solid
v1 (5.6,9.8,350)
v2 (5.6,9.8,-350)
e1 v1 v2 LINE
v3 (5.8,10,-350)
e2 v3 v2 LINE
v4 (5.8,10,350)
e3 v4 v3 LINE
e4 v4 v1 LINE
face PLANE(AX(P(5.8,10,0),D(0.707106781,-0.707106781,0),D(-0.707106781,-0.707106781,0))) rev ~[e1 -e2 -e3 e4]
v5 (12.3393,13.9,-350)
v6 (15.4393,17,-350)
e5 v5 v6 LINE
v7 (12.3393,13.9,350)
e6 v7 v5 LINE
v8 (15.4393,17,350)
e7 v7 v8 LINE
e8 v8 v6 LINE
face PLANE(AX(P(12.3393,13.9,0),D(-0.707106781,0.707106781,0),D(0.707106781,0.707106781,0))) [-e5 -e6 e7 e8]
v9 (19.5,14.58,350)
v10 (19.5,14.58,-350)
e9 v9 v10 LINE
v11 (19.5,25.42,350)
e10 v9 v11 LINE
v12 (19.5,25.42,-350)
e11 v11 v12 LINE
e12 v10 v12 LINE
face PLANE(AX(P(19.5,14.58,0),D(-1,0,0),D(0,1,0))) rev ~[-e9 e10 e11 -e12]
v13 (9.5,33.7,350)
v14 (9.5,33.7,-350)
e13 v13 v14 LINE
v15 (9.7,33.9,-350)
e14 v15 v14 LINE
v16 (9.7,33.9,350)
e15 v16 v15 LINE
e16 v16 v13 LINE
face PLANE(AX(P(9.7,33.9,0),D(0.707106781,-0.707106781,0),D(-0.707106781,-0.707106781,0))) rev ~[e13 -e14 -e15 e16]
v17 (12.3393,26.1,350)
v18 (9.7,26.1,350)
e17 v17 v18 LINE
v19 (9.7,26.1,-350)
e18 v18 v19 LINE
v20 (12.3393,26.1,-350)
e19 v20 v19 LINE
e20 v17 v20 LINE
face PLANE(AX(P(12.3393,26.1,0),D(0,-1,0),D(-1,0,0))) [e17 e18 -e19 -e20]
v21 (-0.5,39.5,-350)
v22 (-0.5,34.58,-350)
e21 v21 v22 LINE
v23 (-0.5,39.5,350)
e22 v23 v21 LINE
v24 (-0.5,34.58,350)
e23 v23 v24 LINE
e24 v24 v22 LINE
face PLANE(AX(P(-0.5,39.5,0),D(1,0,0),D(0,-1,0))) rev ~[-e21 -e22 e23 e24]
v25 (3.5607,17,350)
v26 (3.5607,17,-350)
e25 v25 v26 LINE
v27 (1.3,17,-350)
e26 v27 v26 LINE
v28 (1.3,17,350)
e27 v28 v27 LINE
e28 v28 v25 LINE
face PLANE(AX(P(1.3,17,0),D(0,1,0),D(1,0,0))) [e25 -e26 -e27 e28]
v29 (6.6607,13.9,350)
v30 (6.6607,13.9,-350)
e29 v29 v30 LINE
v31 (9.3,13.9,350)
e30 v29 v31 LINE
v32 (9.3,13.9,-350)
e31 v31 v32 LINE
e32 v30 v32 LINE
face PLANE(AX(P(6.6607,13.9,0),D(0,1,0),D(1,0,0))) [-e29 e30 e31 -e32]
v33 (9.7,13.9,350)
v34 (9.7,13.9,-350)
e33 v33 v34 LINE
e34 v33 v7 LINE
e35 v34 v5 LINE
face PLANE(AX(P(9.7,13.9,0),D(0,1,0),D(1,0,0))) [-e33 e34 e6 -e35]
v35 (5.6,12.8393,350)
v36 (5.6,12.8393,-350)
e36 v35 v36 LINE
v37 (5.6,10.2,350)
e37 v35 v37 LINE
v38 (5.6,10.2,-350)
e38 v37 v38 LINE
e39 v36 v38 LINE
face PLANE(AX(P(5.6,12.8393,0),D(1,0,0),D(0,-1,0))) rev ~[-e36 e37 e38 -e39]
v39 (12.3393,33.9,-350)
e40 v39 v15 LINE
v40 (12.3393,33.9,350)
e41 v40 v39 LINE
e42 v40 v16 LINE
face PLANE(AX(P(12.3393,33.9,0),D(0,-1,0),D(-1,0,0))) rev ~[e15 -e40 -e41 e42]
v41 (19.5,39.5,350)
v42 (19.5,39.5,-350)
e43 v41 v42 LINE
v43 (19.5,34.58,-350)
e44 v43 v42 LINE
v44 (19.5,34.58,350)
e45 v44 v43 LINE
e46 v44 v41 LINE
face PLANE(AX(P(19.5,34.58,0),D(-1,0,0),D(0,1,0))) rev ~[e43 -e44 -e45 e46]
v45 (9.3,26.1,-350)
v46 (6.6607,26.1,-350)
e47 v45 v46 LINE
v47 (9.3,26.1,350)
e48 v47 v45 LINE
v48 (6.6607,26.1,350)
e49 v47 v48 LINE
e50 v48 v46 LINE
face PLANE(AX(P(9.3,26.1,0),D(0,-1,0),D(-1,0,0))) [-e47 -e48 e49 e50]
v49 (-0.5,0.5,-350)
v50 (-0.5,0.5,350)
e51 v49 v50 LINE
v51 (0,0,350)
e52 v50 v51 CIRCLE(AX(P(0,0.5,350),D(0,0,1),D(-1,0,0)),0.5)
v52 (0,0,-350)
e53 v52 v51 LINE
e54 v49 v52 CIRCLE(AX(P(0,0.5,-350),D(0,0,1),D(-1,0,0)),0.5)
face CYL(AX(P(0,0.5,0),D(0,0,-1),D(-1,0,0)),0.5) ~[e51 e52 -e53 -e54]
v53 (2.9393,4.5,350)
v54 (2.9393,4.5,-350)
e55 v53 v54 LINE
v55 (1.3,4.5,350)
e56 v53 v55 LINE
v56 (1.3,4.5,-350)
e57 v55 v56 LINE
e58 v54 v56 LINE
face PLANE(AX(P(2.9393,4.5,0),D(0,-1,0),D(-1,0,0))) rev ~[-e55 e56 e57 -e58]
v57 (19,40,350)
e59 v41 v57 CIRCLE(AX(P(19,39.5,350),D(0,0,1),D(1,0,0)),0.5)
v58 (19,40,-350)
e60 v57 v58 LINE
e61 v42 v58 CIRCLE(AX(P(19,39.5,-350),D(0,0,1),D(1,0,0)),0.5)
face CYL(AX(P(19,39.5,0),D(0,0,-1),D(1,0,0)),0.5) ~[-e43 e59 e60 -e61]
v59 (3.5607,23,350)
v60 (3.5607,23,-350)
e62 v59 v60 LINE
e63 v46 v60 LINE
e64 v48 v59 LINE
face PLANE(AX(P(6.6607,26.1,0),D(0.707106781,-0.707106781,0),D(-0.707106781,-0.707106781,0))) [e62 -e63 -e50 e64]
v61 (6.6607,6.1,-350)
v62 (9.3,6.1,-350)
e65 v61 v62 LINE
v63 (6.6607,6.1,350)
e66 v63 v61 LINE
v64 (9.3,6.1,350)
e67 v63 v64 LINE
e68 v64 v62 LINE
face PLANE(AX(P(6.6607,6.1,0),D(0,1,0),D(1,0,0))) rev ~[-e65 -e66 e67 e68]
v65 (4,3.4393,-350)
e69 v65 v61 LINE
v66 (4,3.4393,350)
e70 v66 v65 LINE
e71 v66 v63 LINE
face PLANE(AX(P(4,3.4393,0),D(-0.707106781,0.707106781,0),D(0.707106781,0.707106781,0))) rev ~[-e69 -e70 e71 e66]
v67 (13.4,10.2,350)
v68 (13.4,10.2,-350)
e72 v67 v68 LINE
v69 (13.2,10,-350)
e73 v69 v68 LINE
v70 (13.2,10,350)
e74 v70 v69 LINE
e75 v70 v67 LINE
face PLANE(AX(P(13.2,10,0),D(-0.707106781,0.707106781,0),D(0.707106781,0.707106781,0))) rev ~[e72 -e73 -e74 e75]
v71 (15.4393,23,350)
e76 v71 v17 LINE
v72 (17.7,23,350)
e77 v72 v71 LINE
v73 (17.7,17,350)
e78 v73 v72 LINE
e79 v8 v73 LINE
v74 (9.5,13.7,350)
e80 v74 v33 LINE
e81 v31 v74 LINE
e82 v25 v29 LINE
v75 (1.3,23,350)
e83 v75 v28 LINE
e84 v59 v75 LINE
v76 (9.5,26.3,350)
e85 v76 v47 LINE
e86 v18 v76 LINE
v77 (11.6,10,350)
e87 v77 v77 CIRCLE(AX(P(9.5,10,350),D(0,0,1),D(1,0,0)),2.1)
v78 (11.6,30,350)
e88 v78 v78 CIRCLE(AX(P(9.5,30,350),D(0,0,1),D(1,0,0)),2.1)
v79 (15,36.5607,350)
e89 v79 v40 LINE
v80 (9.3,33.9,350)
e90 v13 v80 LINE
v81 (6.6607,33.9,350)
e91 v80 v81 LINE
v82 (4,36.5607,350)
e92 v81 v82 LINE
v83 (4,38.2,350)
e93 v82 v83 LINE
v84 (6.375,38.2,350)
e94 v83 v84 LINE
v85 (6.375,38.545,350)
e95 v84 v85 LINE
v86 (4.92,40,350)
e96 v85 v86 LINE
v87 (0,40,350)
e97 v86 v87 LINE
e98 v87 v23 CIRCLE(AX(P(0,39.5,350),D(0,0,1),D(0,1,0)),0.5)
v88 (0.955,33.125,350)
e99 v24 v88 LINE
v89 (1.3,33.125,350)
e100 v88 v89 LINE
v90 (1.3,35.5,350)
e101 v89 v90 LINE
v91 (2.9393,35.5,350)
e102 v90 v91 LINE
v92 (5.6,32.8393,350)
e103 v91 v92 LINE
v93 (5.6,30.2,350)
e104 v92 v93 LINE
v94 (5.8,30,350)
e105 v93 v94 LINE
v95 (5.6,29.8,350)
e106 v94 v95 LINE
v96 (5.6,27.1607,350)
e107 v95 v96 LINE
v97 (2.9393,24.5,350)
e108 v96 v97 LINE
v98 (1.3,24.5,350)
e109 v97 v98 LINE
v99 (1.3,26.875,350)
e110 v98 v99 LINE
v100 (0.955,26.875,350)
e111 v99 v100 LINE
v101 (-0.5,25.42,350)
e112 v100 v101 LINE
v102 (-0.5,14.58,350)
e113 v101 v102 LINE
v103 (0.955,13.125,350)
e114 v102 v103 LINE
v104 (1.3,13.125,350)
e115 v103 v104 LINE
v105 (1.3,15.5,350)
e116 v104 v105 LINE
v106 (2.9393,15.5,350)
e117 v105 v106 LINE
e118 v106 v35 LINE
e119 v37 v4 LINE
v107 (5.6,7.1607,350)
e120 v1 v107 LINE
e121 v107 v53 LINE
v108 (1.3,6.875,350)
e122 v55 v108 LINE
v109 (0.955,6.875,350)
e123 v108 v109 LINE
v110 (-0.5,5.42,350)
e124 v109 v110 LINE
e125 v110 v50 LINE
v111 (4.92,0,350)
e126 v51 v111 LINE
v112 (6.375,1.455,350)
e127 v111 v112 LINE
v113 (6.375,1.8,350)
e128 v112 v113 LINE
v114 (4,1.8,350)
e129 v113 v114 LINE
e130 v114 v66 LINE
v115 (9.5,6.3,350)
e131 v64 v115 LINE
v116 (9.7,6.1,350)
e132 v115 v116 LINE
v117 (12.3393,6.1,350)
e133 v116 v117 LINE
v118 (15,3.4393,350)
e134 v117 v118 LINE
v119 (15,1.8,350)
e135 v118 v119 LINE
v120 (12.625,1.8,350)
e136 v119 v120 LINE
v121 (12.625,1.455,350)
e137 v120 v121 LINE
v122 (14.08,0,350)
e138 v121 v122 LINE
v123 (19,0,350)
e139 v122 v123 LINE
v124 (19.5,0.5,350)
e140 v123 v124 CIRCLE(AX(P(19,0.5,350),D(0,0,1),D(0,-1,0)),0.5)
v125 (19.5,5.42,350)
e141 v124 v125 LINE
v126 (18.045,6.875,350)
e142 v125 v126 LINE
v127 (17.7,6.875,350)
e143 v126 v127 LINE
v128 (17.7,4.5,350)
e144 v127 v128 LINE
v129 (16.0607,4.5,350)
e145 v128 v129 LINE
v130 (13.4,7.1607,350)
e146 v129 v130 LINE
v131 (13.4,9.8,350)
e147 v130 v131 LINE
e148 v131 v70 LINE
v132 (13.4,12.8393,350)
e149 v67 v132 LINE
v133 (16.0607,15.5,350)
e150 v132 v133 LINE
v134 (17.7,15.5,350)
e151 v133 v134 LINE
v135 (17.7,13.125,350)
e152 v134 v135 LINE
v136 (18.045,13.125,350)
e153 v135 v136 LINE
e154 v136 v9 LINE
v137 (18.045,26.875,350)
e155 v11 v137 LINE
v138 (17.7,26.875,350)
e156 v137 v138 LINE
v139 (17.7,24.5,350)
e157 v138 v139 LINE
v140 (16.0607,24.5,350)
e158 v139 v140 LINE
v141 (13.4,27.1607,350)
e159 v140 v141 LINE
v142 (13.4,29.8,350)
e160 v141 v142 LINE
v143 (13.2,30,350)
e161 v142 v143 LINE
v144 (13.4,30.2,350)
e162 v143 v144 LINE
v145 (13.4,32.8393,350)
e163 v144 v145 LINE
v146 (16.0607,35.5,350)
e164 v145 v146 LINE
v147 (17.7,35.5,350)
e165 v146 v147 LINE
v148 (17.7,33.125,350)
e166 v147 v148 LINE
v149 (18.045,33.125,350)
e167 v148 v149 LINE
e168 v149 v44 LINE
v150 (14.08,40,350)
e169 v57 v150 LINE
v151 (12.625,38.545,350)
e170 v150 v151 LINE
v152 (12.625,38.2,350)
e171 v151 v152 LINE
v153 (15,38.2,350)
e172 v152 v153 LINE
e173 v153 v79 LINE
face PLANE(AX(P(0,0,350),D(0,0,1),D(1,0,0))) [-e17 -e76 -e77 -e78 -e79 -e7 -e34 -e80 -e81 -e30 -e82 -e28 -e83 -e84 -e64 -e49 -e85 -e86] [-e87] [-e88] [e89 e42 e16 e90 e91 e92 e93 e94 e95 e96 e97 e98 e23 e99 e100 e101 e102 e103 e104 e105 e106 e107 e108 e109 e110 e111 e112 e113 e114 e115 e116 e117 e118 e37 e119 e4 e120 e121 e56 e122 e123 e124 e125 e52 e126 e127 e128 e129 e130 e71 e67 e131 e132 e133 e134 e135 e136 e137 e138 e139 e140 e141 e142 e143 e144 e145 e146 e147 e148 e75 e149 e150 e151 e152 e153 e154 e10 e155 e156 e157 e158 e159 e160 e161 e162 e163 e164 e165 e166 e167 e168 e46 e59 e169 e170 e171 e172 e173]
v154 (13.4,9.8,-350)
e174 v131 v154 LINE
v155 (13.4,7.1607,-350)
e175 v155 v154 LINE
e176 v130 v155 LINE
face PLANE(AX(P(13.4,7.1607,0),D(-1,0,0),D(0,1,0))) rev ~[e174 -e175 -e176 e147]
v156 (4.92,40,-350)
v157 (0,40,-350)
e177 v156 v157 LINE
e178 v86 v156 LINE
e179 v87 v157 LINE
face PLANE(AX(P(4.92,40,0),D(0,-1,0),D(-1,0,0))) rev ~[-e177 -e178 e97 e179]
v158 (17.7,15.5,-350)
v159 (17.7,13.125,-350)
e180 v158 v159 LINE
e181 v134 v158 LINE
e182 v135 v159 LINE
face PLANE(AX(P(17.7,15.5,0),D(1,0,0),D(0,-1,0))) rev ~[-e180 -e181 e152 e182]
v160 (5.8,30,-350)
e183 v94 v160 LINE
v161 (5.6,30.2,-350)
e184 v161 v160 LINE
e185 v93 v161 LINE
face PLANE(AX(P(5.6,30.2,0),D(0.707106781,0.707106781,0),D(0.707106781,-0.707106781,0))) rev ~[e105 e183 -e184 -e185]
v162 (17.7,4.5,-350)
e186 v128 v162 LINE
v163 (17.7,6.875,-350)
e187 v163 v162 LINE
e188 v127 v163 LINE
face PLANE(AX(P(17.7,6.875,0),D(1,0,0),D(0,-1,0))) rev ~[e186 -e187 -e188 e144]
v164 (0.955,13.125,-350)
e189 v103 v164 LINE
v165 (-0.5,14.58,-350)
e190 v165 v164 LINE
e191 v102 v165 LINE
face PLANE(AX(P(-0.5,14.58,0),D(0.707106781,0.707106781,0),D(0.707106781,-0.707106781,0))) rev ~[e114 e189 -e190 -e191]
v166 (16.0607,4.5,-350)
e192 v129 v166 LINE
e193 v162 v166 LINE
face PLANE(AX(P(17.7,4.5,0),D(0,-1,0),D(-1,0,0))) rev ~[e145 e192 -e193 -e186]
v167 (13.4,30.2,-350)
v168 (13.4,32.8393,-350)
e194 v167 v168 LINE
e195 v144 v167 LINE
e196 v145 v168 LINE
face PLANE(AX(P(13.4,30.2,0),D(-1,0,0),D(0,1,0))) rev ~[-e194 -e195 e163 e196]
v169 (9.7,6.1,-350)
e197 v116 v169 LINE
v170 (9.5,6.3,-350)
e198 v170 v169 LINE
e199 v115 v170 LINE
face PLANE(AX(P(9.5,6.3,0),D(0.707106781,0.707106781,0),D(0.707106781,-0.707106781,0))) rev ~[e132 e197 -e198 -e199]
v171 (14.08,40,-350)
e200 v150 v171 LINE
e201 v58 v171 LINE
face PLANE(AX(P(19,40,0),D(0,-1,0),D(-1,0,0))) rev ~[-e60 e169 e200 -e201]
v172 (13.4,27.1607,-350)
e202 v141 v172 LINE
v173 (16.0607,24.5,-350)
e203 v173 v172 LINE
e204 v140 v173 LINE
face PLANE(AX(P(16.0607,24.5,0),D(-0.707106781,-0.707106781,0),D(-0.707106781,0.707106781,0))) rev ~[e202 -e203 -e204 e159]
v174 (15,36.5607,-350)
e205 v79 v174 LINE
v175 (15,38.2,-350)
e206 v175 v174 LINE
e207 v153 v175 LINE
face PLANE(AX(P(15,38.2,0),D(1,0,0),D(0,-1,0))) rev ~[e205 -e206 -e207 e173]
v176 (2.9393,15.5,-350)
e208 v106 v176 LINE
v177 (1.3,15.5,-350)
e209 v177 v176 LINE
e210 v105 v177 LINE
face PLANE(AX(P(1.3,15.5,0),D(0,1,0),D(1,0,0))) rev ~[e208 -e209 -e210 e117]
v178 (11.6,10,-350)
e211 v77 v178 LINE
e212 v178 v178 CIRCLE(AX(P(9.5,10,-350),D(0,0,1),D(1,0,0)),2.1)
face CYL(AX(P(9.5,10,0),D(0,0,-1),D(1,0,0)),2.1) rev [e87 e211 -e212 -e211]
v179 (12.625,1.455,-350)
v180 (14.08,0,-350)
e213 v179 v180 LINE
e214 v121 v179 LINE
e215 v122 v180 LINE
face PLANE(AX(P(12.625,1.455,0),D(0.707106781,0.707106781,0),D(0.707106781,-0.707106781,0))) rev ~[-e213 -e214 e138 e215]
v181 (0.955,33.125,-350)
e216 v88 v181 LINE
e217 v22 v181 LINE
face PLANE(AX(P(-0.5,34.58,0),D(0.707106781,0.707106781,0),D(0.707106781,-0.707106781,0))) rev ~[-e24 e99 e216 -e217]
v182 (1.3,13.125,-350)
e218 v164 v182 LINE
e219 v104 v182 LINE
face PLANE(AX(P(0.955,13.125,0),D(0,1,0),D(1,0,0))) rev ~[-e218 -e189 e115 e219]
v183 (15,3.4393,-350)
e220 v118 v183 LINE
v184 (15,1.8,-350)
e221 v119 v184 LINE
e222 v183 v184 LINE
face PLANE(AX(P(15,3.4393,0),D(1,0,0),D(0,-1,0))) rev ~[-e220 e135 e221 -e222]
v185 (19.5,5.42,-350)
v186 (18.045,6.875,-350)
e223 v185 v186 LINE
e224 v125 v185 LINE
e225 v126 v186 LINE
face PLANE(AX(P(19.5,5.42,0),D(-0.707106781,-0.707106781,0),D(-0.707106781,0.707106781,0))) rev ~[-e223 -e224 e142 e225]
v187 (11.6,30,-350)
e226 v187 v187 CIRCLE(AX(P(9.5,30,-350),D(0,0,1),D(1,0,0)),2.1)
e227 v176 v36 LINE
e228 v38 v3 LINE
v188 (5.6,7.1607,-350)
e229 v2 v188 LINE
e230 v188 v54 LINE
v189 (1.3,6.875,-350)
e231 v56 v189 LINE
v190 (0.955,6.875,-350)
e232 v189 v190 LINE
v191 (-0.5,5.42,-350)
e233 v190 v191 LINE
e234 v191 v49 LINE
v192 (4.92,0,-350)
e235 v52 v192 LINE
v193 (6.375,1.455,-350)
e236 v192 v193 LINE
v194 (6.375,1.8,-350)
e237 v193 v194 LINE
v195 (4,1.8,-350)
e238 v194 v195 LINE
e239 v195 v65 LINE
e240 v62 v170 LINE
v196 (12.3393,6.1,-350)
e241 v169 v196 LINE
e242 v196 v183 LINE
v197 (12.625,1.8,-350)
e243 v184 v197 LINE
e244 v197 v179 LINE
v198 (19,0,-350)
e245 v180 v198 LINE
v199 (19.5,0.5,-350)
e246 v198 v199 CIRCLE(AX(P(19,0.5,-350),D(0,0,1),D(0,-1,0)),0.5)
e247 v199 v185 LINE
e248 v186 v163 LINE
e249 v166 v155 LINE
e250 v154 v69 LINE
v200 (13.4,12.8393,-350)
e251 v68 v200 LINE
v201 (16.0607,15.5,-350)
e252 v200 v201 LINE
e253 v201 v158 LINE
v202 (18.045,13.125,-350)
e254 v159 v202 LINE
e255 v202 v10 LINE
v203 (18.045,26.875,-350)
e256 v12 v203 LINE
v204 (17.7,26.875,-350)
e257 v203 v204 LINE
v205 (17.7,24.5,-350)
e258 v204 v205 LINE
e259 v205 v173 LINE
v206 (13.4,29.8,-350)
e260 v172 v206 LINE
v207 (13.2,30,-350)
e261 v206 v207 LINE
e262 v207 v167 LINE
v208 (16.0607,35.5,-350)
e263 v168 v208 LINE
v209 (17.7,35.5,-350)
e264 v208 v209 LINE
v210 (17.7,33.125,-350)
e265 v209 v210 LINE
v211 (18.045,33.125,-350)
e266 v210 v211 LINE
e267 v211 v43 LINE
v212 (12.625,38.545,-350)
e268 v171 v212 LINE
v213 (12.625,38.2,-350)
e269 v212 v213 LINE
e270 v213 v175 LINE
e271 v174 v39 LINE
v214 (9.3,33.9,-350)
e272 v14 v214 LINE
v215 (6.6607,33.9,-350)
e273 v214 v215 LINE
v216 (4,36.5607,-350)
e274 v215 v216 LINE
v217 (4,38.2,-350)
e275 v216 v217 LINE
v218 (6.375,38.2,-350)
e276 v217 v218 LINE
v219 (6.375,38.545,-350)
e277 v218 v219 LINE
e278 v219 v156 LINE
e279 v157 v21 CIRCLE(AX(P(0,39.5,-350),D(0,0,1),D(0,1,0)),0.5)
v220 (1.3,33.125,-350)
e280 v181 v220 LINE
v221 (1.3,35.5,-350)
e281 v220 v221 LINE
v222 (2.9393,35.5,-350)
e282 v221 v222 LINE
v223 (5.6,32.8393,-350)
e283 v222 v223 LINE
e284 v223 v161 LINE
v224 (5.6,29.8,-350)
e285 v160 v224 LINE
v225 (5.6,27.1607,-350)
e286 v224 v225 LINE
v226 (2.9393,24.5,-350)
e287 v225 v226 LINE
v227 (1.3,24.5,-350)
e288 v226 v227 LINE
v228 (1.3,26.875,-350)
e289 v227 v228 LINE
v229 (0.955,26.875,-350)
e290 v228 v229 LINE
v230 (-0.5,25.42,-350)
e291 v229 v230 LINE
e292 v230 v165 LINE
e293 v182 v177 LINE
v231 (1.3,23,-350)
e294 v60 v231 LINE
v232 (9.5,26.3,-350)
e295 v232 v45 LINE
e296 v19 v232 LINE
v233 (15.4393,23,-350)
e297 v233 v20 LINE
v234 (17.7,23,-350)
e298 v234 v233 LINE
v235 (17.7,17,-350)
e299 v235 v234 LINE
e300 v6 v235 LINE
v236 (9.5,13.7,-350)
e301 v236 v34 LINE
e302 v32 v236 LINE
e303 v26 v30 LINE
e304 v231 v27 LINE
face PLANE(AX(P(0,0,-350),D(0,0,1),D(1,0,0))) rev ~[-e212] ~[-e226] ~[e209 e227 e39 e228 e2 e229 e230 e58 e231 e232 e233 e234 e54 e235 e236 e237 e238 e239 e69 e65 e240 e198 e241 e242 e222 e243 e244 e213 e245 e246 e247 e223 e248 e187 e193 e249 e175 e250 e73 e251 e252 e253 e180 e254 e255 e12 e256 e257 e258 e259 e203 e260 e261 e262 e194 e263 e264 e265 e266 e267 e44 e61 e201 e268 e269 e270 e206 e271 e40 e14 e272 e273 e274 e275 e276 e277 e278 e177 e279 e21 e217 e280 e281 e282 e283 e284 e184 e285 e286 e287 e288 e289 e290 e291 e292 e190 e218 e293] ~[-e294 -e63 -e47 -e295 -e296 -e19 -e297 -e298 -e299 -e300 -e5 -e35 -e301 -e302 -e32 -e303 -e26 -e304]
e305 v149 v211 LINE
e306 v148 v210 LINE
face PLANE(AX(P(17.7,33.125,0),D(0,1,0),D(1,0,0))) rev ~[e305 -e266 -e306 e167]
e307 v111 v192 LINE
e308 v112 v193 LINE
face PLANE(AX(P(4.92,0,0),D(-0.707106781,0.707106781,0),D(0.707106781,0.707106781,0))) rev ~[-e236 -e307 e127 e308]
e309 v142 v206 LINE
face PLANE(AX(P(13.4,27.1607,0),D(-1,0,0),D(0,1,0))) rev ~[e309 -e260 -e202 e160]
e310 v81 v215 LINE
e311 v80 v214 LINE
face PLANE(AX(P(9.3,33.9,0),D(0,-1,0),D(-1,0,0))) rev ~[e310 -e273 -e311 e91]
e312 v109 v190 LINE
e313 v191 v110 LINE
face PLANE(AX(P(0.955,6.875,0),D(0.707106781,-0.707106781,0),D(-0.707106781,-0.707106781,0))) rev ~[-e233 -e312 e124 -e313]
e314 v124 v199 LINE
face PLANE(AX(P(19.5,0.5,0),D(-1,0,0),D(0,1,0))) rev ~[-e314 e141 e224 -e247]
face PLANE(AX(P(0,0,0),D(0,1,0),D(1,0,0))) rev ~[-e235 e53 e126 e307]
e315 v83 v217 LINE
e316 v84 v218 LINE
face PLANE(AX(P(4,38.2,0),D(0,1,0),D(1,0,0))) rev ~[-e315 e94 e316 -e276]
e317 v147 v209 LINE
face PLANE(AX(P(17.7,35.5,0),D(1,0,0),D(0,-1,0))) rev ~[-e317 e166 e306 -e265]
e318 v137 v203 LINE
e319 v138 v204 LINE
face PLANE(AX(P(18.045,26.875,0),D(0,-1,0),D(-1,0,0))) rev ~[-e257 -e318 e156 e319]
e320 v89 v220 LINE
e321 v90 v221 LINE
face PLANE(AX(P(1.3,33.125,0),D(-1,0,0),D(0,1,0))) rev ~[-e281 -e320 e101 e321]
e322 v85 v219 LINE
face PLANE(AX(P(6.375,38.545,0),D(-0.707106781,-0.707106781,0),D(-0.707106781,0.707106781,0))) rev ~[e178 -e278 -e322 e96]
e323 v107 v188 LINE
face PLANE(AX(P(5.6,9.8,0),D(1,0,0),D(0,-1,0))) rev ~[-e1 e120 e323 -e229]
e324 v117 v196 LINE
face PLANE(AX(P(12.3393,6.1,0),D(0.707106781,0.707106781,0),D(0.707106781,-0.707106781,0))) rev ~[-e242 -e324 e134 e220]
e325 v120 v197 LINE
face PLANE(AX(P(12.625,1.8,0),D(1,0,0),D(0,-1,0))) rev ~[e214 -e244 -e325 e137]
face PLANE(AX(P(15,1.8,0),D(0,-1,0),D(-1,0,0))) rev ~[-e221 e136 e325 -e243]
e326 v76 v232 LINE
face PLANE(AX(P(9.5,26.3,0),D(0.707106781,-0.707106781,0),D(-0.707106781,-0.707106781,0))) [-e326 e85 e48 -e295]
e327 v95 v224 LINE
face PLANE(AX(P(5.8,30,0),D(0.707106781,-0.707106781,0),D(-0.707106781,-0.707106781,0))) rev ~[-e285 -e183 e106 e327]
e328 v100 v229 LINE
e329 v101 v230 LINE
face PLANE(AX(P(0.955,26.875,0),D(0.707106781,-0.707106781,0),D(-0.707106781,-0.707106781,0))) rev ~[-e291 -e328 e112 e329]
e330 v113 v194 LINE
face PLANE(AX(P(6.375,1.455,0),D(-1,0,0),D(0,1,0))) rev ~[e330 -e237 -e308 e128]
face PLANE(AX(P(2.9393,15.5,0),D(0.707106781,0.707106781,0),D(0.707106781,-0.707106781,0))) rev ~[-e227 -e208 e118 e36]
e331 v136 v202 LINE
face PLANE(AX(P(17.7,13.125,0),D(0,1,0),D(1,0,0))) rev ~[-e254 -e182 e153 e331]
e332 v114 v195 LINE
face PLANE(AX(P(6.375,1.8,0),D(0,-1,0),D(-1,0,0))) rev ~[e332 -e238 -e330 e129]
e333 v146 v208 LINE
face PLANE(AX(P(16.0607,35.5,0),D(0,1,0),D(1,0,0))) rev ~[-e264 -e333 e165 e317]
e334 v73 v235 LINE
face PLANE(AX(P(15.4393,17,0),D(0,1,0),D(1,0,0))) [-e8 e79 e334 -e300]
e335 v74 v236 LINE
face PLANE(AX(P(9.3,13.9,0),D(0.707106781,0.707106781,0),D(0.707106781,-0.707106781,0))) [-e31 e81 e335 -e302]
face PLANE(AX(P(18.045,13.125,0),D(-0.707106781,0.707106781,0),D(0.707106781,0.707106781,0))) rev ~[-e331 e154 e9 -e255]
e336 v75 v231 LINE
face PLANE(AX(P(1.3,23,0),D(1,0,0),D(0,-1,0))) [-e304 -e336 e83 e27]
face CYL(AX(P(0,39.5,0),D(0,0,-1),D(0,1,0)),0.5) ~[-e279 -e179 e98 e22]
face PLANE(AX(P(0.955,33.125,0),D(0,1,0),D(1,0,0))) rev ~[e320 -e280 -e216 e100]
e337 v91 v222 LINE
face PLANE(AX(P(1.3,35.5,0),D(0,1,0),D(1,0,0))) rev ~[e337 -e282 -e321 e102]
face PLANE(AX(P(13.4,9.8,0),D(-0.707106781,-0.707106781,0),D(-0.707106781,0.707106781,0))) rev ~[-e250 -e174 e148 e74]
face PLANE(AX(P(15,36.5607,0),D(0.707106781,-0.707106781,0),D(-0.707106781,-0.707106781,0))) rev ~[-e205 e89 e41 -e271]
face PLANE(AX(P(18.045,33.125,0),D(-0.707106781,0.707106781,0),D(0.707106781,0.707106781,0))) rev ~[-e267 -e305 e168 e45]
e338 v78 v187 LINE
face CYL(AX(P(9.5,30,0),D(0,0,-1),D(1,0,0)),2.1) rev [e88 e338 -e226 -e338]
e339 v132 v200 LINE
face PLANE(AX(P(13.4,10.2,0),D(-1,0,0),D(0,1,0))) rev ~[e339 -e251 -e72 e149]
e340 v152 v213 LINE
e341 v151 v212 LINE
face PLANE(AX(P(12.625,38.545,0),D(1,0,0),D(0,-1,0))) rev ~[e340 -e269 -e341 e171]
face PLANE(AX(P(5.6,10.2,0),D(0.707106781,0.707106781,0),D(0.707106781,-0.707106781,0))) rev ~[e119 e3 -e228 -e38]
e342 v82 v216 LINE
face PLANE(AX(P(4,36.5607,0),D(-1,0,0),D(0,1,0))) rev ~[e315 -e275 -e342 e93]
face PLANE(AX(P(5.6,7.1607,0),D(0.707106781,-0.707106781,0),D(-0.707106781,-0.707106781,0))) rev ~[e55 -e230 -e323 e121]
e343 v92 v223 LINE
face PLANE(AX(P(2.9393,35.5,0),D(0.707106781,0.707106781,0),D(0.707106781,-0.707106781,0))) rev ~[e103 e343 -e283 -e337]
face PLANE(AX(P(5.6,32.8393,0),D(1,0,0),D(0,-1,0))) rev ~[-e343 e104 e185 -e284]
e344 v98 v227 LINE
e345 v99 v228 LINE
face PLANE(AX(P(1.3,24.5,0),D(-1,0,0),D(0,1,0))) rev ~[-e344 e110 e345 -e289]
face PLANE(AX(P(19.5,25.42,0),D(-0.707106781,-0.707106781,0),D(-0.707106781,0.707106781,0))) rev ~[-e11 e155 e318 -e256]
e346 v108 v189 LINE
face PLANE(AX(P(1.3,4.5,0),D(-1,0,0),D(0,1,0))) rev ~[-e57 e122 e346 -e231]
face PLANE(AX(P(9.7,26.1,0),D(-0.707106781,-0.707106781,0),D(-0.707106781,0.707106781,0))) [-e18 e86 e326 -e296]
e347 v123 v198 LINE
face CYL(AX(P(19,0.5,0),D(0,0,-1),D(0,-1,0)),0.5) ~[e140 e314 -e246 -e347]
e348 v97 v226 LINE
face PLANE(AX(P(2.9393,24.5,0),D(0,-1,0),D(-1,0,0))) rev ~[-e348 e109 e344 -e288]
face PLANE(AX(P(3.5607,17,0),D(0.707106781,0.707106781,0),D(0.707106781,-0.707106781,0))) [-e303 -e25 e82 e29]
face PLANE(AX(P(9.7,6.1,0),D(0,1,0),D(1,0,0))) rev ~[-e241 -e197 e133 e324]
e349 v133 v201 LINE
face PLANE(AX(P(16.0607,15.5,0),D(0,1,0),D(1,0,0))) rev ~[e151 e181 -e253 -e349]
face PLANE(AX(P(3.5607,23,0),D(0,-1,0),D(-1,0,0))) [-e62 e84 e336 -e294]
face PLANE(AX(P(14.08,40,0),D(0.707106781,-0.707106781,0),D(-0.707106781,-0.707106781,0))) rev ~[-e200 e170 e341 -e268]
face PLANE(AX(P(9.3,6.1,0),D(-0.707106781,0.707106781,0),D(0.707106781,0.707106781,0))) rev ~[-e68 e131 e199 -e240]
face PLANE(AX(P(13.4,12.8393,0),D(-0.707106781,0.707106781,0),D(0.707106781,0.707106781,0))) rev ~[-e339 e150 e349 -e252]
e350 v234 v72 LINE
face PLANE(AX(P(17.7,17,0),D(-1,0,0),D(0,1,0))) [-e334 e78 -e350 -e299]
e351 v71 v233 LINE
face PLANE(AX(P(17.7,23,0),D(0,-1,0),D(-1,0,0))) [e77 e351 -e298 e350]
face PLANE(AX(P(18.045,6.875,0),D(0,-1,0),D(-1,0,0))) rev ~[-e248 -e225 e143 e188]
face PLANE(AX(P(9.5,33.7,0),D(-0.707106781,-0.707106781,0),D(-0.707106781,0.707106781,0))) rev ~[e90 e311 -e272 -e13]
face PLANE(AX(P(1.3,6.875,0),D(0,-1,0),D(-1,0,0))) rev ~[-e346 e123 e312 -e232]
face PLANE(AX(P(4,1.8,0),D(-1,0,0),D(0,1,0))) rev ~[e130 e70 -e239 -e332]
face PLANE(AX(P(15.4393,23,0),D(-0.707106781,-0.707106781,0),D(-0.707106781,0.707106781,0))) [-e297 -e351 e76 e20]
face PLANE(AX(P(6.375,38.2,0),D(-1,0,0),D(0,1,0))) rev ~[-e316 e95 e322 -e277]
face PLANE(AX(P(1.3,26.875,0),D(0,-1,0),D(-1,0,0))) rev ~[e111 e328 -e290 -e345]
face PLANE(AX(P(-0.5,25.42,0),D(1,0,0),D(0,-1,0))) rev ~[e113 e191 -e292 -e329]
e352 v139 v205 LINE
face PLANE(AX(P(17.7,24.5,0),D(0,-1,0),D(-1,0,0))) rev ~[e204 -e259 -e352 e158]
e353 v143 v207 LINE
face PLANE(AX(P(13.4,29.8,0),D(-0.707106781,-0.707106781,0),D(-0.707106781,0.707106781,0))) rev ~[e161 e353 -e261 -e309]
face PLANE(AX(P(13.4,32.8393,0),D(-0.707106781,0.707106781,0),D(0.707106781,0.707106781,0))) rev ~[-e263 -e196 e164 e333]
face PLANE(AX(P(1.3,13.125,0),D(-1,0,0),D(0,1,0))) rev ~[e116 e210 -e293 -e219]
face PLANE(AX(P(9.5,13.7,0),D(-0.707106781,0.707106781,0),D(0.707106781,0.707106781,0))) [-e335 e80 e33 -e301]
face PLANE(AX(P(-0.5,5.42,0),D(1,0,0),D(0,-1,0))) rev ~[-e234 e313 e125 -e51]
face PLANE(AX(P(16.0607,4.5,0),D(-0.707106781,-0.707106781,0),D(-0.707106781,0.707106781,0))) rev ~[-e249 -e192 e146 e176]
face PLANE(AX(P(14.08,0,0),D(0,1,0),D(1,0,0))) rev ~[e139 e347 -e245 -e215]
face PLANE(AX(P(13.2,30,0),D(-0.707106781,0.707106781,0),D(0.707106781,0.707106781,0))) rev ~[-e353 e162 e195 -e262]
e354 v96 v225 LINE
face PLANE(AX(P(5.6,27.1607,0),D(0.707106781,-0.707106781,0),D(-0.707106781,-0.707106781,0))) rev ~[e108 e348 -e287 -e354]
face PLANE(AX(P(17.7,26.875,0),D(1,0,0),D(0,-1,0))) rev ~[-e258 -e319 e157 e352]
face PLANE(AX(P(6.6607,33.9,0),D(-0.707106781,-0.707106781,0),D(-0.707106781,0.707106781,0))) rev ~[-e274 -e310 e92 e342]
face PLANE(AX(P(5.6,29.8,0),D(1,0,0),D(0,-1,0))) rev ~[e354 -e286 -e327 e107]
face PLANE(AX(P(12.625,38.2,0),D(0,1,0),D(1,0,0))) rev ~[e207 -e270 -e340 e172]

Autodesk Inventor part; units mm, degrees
ref_plane "YZ Plane" through (0, 0, 0) normal (1, 0, 0) x (0, 1, 0)
ref_plane "XZ Plane" through (0, 0, 0) normal (0, 1, 0) x (-1, 0, 0)
ref_plane "XY Plane" through (0, 0, 0) normal (0, 0, 1) x (1, 0, 0)
sketch "Sketch1" plane through (0, 0, 0) normal (0, 0, 1) x (1, 0, 0)
  line L0 (-0.5, 5.42) -> (-0.5, 0.5)
  arc A0 (-0.5, 0.5) -> (0, 0) centre (0, 0.5) ccw
  line L1 (0, 0) -> (4.92, 0)
  line L2 (4.92, 0) -> (6.375, 1.455)
  line L3 (6.375, 1.455) -> (6.375, 1.8)
  line L4 (6.375, 1.8) -> (4, 1.8)
  line L5 (4, 1.8) -> (4, 3.4393)
  line L6 (4, 3.4393) -> (6.6607, 6.1)
  line L7 (6.6607, 6.1) -> (9.3, 6.1)
  line L8 (9.3, 6.1) -> (9.5, 6.3)
  line L9 (9.5, 6.3) -> (9.7, 6.1)
  line L10 (9.7, 6.1) -> (12.3393, 6.1)
  line L11 (12.3393, 6.1) -> (15, 3.4393)
  line L12 (15, 3.4393) -> (15, 1.8)
  line L13 (15, 1.8) -> (12.625, 1.8)
  line L14 (12.625, 1.8) -> (12.625, 1.455)
  line L15 (12.625, 1.455) -> (14.08, 0)
  line L16 (14.08, 0) -> (19, 0)
  arc A1 (19, 0) -> (19.5, 0.5) centre (19, 0.5) ccw
  line L17 (19.5, 0.5) -> (19.5, 5.42)
  line L18 (19.5, 5.42) -> (18.045, 6.875)
  line L19 (18.045, 6.875) -> (17.7, 6.875)
  line L20 (17.7, 6.875) -> (17.7, 4.5)
  line L21 (17.7, 4.5) -> (16.0607, 4.5)
  line L22 (16.0607, 4.5) -> (13.4, 7.1607)
  line L23 (13.4, 7.1607) -> (13.4, 9.8)
  line L24 (13.4, 9.8) -> (13.2, 10)
  line L25 (13.2, 10) -> (13.4, 10.2)
  line L26 (13.4, 10.2) -> (13.4, 12.8393)
  line L27 (13.4, 12.8393) -> (16.0607, 15.5)
  line L28 (16.0607, 15.5) -> (17.7, 15.5)
  line L29 (17.7, 15.5) -> (17.7, 13.125)
  line L30 (17.7, 13.125) -> (18.045, 13.125)
  line L31 (18.045, 13.125) -> (19.5, 14.58)
  line L32 (19.5, 14.58) -> (19.5, 25.42)
  line L33 (19.5, 25.42) -> (18.045, 26.875)
  line L34 (18.045, 26.875) -> (17.7, 26.875)
  line L35 (17.7, 26.875) -> (17.7, 24.5)
  line L36 (17.7, 24.5) -> (16.0607, 24.5)
  line L37 (16.0607, 24.5) -> (13.4, 27.1607)
  line L38 (13.4, 27.1607) -> (13.4, 29.8)
  line L39 (13.4, 29.8) -> (13.2, 30)
  line L40 (13.2, 30) -> (13.4, 30.2)
  line L41 (13.4, 30.2) -> (13.4, 32.8393)
  line L42 (13.4, 32.8393) -> (16.0607, 35.5)
  line L43 (16.0607, 35.5) -> (17.7, 35.5)
  line L44 (17.7, 35.5) -> (17.7, 33.125)
  line L45 (17.7, 33.125) -> (18.045, 33.125)
  line L46 (18.045, 33.125) -> (19.5, 34.58)
  line L47 (19.5, 34.58) -> (19.5, 39.5)
  arc A2 (19.5, 39.5) -> (19, 40) centre (19, 39.5) ccw
  line L48 (19, 40) -> (14.08, 40)
  line L49 (14.08, 40) -> (12.625, 38.545)
  line L50 (12.625, 38.545) -> (12.625, 38.2)
  line L51 (12.625, 38.2) -> (15, 38.2)
  line L52 (15, 38.2) -> (15, 36.5607)
  line L53 (15, 36.5607) -> (12.3393, 33.9)
  line L54 (12.3393, 33.9) -> (9.7, 33.9)
  line L55 (9.7, 33.9) -> (9.5, 33.7)
  line L56 (9.5, 33.7) -> (9.3, 33.9)
  line L57 (9.3, 33.9) -> (6.6607, 33.9)
  line L58 (6.6607, 33.9) -> (4, 36.5607)
  line L59 (4, 36.5607) -> (4, 38.2)
  line L60 (4, 38.2) -> (6.375, 38.2)
  line L61 (6.375, 38.2) -> (6.375, 38.545)
  line L62 (6.375, 38.545) -> (4.92, 40)
  line L63 (4.92, 40) -> (0, 40)
  arc A3 (0, 40) -> (-0.5, 39.5) centre (0, 39.5) ccw
  line L64 (-0.5, 39.5) -> (-0.5, 34.58)
  line L65 (-0.5, 34.58) -> (0.955, 33.125)
  line L66 (0.955, 33.125) -> (1.3, 33.125)
  line L67 (1.3, 33.125) -> (1.3, 35.5)
  line L68 (1.3, 35.5) -> (2.9393, 35.5)
  line L69 (2.9393, 35.5) -> (5.6, 32.8393)
  line L70 (5.6, 32.8393) -> (5.6, 30.2)
  line L71 (5.6, 30.2) -> (5.8, 30)
  line L72 (5.8, 30) -> (5.6, 29.8)
  line L73 (5.6, 29.8) -> (5.6, 27.1607)
  line L74 (5.6, 27.1607) -> (2.9393, 24.5)
  line L75 (2.9393, 24.5) -> (1.3, 24.5)
  line L76 (1.3, 24.5) -> (1.3, 26.875)
  line L77 (1.3, 26.875) -> (0.955, 26.875)
  line L78 (0.955, 26.875) -> (-0.5, 25.42)
  line L79 (-0.5, 25.42) -> (-0.5, 14.58)
  line L80 (-0.5, 14.58) -> (0.955, 13.125)
  line L81 (0.955, 13.125) -> (1.3, 13.125)
  line L82 (1.3, 13.125) -> (1.3, 15.5)
  line L83 (1.3, 15.5) -> (2.9393, 15.5)
  line L84 (2.9393, 15.5) -> (5.6, 12.8393)
  line L85 (5.6, 12.8393) -> (5.6, 10.2)
  line L86 (5.6, 10.2) -> (5.8, 10)
  line L87 (5.8, 10) -> (5.6, 9.8)
  line L88 (5.6, 9.8) -> (5.6, 7.1607)
  line L89 (5.6, 7.1607) -> (2.9393, 4.5)
  line L90 (2.9393, 4.5) -> (1.3, 4.5)
  line L91 (1.3, 4.5) -> (1.3, 6.875)
  line L92 (1.3, 6.875) -> (0.955, 6.875)
  line L93 (0.955, 6.875) -> (-0.5, 5.42)
  line L94 (17.7, 23) -> (15.4393, 23)
  line L95 (17.7, 17) -> (17.7, 23)
  line L96 (15.4393, 17) -> (17.7, 17)
  line L97 (12.3393, 13.9) -> (15.4393, 17)
  line L98 (9.7, 13.9) -> (12.3393, 13.9)
  line L99 (9.5, 13.7) -> (9.7, 13.9)
  line L100 (9.3, 13.9) -> (9.5, 13.7)
  line L101 (6.6607, 13.9) -> (9.3, 13.9)
  line L102 (3.5607, 17) -> (6.6607, 13.9)
  line L103 (1.3, 17) -> (3.5607, 17)
  line L104 (1.3, 23) -> (1.3, 17)
  line L105 (3.5607, 23) -> (1.3, 23)
  line L106 (6.6607, 26.1) -> (3.5607, 23)
  line L107 (9.3, 26.1) -> (6.6607, 26.1)
  line L108 (9.5, 26.3) -> (9.3, 26.1)
  line L109 (9.7, 26.1) -> (9.5, 26.3)
  line L110 (12.3393, 26.1) -> (9.7, 26.1)
  line L111 (15.4393, 23) -> (12.3393, 26.1)
  circle A4 centre (9.5, 30) radius 2.1
  circle A5 centre (9.5, 10) radius 2.1
  point P0 (9.5, 20)
extrude "Extrusion1" add sketch "Sketch1" along normal mid plane 700
properties part number "0008-10-1018 V slot profiles"
